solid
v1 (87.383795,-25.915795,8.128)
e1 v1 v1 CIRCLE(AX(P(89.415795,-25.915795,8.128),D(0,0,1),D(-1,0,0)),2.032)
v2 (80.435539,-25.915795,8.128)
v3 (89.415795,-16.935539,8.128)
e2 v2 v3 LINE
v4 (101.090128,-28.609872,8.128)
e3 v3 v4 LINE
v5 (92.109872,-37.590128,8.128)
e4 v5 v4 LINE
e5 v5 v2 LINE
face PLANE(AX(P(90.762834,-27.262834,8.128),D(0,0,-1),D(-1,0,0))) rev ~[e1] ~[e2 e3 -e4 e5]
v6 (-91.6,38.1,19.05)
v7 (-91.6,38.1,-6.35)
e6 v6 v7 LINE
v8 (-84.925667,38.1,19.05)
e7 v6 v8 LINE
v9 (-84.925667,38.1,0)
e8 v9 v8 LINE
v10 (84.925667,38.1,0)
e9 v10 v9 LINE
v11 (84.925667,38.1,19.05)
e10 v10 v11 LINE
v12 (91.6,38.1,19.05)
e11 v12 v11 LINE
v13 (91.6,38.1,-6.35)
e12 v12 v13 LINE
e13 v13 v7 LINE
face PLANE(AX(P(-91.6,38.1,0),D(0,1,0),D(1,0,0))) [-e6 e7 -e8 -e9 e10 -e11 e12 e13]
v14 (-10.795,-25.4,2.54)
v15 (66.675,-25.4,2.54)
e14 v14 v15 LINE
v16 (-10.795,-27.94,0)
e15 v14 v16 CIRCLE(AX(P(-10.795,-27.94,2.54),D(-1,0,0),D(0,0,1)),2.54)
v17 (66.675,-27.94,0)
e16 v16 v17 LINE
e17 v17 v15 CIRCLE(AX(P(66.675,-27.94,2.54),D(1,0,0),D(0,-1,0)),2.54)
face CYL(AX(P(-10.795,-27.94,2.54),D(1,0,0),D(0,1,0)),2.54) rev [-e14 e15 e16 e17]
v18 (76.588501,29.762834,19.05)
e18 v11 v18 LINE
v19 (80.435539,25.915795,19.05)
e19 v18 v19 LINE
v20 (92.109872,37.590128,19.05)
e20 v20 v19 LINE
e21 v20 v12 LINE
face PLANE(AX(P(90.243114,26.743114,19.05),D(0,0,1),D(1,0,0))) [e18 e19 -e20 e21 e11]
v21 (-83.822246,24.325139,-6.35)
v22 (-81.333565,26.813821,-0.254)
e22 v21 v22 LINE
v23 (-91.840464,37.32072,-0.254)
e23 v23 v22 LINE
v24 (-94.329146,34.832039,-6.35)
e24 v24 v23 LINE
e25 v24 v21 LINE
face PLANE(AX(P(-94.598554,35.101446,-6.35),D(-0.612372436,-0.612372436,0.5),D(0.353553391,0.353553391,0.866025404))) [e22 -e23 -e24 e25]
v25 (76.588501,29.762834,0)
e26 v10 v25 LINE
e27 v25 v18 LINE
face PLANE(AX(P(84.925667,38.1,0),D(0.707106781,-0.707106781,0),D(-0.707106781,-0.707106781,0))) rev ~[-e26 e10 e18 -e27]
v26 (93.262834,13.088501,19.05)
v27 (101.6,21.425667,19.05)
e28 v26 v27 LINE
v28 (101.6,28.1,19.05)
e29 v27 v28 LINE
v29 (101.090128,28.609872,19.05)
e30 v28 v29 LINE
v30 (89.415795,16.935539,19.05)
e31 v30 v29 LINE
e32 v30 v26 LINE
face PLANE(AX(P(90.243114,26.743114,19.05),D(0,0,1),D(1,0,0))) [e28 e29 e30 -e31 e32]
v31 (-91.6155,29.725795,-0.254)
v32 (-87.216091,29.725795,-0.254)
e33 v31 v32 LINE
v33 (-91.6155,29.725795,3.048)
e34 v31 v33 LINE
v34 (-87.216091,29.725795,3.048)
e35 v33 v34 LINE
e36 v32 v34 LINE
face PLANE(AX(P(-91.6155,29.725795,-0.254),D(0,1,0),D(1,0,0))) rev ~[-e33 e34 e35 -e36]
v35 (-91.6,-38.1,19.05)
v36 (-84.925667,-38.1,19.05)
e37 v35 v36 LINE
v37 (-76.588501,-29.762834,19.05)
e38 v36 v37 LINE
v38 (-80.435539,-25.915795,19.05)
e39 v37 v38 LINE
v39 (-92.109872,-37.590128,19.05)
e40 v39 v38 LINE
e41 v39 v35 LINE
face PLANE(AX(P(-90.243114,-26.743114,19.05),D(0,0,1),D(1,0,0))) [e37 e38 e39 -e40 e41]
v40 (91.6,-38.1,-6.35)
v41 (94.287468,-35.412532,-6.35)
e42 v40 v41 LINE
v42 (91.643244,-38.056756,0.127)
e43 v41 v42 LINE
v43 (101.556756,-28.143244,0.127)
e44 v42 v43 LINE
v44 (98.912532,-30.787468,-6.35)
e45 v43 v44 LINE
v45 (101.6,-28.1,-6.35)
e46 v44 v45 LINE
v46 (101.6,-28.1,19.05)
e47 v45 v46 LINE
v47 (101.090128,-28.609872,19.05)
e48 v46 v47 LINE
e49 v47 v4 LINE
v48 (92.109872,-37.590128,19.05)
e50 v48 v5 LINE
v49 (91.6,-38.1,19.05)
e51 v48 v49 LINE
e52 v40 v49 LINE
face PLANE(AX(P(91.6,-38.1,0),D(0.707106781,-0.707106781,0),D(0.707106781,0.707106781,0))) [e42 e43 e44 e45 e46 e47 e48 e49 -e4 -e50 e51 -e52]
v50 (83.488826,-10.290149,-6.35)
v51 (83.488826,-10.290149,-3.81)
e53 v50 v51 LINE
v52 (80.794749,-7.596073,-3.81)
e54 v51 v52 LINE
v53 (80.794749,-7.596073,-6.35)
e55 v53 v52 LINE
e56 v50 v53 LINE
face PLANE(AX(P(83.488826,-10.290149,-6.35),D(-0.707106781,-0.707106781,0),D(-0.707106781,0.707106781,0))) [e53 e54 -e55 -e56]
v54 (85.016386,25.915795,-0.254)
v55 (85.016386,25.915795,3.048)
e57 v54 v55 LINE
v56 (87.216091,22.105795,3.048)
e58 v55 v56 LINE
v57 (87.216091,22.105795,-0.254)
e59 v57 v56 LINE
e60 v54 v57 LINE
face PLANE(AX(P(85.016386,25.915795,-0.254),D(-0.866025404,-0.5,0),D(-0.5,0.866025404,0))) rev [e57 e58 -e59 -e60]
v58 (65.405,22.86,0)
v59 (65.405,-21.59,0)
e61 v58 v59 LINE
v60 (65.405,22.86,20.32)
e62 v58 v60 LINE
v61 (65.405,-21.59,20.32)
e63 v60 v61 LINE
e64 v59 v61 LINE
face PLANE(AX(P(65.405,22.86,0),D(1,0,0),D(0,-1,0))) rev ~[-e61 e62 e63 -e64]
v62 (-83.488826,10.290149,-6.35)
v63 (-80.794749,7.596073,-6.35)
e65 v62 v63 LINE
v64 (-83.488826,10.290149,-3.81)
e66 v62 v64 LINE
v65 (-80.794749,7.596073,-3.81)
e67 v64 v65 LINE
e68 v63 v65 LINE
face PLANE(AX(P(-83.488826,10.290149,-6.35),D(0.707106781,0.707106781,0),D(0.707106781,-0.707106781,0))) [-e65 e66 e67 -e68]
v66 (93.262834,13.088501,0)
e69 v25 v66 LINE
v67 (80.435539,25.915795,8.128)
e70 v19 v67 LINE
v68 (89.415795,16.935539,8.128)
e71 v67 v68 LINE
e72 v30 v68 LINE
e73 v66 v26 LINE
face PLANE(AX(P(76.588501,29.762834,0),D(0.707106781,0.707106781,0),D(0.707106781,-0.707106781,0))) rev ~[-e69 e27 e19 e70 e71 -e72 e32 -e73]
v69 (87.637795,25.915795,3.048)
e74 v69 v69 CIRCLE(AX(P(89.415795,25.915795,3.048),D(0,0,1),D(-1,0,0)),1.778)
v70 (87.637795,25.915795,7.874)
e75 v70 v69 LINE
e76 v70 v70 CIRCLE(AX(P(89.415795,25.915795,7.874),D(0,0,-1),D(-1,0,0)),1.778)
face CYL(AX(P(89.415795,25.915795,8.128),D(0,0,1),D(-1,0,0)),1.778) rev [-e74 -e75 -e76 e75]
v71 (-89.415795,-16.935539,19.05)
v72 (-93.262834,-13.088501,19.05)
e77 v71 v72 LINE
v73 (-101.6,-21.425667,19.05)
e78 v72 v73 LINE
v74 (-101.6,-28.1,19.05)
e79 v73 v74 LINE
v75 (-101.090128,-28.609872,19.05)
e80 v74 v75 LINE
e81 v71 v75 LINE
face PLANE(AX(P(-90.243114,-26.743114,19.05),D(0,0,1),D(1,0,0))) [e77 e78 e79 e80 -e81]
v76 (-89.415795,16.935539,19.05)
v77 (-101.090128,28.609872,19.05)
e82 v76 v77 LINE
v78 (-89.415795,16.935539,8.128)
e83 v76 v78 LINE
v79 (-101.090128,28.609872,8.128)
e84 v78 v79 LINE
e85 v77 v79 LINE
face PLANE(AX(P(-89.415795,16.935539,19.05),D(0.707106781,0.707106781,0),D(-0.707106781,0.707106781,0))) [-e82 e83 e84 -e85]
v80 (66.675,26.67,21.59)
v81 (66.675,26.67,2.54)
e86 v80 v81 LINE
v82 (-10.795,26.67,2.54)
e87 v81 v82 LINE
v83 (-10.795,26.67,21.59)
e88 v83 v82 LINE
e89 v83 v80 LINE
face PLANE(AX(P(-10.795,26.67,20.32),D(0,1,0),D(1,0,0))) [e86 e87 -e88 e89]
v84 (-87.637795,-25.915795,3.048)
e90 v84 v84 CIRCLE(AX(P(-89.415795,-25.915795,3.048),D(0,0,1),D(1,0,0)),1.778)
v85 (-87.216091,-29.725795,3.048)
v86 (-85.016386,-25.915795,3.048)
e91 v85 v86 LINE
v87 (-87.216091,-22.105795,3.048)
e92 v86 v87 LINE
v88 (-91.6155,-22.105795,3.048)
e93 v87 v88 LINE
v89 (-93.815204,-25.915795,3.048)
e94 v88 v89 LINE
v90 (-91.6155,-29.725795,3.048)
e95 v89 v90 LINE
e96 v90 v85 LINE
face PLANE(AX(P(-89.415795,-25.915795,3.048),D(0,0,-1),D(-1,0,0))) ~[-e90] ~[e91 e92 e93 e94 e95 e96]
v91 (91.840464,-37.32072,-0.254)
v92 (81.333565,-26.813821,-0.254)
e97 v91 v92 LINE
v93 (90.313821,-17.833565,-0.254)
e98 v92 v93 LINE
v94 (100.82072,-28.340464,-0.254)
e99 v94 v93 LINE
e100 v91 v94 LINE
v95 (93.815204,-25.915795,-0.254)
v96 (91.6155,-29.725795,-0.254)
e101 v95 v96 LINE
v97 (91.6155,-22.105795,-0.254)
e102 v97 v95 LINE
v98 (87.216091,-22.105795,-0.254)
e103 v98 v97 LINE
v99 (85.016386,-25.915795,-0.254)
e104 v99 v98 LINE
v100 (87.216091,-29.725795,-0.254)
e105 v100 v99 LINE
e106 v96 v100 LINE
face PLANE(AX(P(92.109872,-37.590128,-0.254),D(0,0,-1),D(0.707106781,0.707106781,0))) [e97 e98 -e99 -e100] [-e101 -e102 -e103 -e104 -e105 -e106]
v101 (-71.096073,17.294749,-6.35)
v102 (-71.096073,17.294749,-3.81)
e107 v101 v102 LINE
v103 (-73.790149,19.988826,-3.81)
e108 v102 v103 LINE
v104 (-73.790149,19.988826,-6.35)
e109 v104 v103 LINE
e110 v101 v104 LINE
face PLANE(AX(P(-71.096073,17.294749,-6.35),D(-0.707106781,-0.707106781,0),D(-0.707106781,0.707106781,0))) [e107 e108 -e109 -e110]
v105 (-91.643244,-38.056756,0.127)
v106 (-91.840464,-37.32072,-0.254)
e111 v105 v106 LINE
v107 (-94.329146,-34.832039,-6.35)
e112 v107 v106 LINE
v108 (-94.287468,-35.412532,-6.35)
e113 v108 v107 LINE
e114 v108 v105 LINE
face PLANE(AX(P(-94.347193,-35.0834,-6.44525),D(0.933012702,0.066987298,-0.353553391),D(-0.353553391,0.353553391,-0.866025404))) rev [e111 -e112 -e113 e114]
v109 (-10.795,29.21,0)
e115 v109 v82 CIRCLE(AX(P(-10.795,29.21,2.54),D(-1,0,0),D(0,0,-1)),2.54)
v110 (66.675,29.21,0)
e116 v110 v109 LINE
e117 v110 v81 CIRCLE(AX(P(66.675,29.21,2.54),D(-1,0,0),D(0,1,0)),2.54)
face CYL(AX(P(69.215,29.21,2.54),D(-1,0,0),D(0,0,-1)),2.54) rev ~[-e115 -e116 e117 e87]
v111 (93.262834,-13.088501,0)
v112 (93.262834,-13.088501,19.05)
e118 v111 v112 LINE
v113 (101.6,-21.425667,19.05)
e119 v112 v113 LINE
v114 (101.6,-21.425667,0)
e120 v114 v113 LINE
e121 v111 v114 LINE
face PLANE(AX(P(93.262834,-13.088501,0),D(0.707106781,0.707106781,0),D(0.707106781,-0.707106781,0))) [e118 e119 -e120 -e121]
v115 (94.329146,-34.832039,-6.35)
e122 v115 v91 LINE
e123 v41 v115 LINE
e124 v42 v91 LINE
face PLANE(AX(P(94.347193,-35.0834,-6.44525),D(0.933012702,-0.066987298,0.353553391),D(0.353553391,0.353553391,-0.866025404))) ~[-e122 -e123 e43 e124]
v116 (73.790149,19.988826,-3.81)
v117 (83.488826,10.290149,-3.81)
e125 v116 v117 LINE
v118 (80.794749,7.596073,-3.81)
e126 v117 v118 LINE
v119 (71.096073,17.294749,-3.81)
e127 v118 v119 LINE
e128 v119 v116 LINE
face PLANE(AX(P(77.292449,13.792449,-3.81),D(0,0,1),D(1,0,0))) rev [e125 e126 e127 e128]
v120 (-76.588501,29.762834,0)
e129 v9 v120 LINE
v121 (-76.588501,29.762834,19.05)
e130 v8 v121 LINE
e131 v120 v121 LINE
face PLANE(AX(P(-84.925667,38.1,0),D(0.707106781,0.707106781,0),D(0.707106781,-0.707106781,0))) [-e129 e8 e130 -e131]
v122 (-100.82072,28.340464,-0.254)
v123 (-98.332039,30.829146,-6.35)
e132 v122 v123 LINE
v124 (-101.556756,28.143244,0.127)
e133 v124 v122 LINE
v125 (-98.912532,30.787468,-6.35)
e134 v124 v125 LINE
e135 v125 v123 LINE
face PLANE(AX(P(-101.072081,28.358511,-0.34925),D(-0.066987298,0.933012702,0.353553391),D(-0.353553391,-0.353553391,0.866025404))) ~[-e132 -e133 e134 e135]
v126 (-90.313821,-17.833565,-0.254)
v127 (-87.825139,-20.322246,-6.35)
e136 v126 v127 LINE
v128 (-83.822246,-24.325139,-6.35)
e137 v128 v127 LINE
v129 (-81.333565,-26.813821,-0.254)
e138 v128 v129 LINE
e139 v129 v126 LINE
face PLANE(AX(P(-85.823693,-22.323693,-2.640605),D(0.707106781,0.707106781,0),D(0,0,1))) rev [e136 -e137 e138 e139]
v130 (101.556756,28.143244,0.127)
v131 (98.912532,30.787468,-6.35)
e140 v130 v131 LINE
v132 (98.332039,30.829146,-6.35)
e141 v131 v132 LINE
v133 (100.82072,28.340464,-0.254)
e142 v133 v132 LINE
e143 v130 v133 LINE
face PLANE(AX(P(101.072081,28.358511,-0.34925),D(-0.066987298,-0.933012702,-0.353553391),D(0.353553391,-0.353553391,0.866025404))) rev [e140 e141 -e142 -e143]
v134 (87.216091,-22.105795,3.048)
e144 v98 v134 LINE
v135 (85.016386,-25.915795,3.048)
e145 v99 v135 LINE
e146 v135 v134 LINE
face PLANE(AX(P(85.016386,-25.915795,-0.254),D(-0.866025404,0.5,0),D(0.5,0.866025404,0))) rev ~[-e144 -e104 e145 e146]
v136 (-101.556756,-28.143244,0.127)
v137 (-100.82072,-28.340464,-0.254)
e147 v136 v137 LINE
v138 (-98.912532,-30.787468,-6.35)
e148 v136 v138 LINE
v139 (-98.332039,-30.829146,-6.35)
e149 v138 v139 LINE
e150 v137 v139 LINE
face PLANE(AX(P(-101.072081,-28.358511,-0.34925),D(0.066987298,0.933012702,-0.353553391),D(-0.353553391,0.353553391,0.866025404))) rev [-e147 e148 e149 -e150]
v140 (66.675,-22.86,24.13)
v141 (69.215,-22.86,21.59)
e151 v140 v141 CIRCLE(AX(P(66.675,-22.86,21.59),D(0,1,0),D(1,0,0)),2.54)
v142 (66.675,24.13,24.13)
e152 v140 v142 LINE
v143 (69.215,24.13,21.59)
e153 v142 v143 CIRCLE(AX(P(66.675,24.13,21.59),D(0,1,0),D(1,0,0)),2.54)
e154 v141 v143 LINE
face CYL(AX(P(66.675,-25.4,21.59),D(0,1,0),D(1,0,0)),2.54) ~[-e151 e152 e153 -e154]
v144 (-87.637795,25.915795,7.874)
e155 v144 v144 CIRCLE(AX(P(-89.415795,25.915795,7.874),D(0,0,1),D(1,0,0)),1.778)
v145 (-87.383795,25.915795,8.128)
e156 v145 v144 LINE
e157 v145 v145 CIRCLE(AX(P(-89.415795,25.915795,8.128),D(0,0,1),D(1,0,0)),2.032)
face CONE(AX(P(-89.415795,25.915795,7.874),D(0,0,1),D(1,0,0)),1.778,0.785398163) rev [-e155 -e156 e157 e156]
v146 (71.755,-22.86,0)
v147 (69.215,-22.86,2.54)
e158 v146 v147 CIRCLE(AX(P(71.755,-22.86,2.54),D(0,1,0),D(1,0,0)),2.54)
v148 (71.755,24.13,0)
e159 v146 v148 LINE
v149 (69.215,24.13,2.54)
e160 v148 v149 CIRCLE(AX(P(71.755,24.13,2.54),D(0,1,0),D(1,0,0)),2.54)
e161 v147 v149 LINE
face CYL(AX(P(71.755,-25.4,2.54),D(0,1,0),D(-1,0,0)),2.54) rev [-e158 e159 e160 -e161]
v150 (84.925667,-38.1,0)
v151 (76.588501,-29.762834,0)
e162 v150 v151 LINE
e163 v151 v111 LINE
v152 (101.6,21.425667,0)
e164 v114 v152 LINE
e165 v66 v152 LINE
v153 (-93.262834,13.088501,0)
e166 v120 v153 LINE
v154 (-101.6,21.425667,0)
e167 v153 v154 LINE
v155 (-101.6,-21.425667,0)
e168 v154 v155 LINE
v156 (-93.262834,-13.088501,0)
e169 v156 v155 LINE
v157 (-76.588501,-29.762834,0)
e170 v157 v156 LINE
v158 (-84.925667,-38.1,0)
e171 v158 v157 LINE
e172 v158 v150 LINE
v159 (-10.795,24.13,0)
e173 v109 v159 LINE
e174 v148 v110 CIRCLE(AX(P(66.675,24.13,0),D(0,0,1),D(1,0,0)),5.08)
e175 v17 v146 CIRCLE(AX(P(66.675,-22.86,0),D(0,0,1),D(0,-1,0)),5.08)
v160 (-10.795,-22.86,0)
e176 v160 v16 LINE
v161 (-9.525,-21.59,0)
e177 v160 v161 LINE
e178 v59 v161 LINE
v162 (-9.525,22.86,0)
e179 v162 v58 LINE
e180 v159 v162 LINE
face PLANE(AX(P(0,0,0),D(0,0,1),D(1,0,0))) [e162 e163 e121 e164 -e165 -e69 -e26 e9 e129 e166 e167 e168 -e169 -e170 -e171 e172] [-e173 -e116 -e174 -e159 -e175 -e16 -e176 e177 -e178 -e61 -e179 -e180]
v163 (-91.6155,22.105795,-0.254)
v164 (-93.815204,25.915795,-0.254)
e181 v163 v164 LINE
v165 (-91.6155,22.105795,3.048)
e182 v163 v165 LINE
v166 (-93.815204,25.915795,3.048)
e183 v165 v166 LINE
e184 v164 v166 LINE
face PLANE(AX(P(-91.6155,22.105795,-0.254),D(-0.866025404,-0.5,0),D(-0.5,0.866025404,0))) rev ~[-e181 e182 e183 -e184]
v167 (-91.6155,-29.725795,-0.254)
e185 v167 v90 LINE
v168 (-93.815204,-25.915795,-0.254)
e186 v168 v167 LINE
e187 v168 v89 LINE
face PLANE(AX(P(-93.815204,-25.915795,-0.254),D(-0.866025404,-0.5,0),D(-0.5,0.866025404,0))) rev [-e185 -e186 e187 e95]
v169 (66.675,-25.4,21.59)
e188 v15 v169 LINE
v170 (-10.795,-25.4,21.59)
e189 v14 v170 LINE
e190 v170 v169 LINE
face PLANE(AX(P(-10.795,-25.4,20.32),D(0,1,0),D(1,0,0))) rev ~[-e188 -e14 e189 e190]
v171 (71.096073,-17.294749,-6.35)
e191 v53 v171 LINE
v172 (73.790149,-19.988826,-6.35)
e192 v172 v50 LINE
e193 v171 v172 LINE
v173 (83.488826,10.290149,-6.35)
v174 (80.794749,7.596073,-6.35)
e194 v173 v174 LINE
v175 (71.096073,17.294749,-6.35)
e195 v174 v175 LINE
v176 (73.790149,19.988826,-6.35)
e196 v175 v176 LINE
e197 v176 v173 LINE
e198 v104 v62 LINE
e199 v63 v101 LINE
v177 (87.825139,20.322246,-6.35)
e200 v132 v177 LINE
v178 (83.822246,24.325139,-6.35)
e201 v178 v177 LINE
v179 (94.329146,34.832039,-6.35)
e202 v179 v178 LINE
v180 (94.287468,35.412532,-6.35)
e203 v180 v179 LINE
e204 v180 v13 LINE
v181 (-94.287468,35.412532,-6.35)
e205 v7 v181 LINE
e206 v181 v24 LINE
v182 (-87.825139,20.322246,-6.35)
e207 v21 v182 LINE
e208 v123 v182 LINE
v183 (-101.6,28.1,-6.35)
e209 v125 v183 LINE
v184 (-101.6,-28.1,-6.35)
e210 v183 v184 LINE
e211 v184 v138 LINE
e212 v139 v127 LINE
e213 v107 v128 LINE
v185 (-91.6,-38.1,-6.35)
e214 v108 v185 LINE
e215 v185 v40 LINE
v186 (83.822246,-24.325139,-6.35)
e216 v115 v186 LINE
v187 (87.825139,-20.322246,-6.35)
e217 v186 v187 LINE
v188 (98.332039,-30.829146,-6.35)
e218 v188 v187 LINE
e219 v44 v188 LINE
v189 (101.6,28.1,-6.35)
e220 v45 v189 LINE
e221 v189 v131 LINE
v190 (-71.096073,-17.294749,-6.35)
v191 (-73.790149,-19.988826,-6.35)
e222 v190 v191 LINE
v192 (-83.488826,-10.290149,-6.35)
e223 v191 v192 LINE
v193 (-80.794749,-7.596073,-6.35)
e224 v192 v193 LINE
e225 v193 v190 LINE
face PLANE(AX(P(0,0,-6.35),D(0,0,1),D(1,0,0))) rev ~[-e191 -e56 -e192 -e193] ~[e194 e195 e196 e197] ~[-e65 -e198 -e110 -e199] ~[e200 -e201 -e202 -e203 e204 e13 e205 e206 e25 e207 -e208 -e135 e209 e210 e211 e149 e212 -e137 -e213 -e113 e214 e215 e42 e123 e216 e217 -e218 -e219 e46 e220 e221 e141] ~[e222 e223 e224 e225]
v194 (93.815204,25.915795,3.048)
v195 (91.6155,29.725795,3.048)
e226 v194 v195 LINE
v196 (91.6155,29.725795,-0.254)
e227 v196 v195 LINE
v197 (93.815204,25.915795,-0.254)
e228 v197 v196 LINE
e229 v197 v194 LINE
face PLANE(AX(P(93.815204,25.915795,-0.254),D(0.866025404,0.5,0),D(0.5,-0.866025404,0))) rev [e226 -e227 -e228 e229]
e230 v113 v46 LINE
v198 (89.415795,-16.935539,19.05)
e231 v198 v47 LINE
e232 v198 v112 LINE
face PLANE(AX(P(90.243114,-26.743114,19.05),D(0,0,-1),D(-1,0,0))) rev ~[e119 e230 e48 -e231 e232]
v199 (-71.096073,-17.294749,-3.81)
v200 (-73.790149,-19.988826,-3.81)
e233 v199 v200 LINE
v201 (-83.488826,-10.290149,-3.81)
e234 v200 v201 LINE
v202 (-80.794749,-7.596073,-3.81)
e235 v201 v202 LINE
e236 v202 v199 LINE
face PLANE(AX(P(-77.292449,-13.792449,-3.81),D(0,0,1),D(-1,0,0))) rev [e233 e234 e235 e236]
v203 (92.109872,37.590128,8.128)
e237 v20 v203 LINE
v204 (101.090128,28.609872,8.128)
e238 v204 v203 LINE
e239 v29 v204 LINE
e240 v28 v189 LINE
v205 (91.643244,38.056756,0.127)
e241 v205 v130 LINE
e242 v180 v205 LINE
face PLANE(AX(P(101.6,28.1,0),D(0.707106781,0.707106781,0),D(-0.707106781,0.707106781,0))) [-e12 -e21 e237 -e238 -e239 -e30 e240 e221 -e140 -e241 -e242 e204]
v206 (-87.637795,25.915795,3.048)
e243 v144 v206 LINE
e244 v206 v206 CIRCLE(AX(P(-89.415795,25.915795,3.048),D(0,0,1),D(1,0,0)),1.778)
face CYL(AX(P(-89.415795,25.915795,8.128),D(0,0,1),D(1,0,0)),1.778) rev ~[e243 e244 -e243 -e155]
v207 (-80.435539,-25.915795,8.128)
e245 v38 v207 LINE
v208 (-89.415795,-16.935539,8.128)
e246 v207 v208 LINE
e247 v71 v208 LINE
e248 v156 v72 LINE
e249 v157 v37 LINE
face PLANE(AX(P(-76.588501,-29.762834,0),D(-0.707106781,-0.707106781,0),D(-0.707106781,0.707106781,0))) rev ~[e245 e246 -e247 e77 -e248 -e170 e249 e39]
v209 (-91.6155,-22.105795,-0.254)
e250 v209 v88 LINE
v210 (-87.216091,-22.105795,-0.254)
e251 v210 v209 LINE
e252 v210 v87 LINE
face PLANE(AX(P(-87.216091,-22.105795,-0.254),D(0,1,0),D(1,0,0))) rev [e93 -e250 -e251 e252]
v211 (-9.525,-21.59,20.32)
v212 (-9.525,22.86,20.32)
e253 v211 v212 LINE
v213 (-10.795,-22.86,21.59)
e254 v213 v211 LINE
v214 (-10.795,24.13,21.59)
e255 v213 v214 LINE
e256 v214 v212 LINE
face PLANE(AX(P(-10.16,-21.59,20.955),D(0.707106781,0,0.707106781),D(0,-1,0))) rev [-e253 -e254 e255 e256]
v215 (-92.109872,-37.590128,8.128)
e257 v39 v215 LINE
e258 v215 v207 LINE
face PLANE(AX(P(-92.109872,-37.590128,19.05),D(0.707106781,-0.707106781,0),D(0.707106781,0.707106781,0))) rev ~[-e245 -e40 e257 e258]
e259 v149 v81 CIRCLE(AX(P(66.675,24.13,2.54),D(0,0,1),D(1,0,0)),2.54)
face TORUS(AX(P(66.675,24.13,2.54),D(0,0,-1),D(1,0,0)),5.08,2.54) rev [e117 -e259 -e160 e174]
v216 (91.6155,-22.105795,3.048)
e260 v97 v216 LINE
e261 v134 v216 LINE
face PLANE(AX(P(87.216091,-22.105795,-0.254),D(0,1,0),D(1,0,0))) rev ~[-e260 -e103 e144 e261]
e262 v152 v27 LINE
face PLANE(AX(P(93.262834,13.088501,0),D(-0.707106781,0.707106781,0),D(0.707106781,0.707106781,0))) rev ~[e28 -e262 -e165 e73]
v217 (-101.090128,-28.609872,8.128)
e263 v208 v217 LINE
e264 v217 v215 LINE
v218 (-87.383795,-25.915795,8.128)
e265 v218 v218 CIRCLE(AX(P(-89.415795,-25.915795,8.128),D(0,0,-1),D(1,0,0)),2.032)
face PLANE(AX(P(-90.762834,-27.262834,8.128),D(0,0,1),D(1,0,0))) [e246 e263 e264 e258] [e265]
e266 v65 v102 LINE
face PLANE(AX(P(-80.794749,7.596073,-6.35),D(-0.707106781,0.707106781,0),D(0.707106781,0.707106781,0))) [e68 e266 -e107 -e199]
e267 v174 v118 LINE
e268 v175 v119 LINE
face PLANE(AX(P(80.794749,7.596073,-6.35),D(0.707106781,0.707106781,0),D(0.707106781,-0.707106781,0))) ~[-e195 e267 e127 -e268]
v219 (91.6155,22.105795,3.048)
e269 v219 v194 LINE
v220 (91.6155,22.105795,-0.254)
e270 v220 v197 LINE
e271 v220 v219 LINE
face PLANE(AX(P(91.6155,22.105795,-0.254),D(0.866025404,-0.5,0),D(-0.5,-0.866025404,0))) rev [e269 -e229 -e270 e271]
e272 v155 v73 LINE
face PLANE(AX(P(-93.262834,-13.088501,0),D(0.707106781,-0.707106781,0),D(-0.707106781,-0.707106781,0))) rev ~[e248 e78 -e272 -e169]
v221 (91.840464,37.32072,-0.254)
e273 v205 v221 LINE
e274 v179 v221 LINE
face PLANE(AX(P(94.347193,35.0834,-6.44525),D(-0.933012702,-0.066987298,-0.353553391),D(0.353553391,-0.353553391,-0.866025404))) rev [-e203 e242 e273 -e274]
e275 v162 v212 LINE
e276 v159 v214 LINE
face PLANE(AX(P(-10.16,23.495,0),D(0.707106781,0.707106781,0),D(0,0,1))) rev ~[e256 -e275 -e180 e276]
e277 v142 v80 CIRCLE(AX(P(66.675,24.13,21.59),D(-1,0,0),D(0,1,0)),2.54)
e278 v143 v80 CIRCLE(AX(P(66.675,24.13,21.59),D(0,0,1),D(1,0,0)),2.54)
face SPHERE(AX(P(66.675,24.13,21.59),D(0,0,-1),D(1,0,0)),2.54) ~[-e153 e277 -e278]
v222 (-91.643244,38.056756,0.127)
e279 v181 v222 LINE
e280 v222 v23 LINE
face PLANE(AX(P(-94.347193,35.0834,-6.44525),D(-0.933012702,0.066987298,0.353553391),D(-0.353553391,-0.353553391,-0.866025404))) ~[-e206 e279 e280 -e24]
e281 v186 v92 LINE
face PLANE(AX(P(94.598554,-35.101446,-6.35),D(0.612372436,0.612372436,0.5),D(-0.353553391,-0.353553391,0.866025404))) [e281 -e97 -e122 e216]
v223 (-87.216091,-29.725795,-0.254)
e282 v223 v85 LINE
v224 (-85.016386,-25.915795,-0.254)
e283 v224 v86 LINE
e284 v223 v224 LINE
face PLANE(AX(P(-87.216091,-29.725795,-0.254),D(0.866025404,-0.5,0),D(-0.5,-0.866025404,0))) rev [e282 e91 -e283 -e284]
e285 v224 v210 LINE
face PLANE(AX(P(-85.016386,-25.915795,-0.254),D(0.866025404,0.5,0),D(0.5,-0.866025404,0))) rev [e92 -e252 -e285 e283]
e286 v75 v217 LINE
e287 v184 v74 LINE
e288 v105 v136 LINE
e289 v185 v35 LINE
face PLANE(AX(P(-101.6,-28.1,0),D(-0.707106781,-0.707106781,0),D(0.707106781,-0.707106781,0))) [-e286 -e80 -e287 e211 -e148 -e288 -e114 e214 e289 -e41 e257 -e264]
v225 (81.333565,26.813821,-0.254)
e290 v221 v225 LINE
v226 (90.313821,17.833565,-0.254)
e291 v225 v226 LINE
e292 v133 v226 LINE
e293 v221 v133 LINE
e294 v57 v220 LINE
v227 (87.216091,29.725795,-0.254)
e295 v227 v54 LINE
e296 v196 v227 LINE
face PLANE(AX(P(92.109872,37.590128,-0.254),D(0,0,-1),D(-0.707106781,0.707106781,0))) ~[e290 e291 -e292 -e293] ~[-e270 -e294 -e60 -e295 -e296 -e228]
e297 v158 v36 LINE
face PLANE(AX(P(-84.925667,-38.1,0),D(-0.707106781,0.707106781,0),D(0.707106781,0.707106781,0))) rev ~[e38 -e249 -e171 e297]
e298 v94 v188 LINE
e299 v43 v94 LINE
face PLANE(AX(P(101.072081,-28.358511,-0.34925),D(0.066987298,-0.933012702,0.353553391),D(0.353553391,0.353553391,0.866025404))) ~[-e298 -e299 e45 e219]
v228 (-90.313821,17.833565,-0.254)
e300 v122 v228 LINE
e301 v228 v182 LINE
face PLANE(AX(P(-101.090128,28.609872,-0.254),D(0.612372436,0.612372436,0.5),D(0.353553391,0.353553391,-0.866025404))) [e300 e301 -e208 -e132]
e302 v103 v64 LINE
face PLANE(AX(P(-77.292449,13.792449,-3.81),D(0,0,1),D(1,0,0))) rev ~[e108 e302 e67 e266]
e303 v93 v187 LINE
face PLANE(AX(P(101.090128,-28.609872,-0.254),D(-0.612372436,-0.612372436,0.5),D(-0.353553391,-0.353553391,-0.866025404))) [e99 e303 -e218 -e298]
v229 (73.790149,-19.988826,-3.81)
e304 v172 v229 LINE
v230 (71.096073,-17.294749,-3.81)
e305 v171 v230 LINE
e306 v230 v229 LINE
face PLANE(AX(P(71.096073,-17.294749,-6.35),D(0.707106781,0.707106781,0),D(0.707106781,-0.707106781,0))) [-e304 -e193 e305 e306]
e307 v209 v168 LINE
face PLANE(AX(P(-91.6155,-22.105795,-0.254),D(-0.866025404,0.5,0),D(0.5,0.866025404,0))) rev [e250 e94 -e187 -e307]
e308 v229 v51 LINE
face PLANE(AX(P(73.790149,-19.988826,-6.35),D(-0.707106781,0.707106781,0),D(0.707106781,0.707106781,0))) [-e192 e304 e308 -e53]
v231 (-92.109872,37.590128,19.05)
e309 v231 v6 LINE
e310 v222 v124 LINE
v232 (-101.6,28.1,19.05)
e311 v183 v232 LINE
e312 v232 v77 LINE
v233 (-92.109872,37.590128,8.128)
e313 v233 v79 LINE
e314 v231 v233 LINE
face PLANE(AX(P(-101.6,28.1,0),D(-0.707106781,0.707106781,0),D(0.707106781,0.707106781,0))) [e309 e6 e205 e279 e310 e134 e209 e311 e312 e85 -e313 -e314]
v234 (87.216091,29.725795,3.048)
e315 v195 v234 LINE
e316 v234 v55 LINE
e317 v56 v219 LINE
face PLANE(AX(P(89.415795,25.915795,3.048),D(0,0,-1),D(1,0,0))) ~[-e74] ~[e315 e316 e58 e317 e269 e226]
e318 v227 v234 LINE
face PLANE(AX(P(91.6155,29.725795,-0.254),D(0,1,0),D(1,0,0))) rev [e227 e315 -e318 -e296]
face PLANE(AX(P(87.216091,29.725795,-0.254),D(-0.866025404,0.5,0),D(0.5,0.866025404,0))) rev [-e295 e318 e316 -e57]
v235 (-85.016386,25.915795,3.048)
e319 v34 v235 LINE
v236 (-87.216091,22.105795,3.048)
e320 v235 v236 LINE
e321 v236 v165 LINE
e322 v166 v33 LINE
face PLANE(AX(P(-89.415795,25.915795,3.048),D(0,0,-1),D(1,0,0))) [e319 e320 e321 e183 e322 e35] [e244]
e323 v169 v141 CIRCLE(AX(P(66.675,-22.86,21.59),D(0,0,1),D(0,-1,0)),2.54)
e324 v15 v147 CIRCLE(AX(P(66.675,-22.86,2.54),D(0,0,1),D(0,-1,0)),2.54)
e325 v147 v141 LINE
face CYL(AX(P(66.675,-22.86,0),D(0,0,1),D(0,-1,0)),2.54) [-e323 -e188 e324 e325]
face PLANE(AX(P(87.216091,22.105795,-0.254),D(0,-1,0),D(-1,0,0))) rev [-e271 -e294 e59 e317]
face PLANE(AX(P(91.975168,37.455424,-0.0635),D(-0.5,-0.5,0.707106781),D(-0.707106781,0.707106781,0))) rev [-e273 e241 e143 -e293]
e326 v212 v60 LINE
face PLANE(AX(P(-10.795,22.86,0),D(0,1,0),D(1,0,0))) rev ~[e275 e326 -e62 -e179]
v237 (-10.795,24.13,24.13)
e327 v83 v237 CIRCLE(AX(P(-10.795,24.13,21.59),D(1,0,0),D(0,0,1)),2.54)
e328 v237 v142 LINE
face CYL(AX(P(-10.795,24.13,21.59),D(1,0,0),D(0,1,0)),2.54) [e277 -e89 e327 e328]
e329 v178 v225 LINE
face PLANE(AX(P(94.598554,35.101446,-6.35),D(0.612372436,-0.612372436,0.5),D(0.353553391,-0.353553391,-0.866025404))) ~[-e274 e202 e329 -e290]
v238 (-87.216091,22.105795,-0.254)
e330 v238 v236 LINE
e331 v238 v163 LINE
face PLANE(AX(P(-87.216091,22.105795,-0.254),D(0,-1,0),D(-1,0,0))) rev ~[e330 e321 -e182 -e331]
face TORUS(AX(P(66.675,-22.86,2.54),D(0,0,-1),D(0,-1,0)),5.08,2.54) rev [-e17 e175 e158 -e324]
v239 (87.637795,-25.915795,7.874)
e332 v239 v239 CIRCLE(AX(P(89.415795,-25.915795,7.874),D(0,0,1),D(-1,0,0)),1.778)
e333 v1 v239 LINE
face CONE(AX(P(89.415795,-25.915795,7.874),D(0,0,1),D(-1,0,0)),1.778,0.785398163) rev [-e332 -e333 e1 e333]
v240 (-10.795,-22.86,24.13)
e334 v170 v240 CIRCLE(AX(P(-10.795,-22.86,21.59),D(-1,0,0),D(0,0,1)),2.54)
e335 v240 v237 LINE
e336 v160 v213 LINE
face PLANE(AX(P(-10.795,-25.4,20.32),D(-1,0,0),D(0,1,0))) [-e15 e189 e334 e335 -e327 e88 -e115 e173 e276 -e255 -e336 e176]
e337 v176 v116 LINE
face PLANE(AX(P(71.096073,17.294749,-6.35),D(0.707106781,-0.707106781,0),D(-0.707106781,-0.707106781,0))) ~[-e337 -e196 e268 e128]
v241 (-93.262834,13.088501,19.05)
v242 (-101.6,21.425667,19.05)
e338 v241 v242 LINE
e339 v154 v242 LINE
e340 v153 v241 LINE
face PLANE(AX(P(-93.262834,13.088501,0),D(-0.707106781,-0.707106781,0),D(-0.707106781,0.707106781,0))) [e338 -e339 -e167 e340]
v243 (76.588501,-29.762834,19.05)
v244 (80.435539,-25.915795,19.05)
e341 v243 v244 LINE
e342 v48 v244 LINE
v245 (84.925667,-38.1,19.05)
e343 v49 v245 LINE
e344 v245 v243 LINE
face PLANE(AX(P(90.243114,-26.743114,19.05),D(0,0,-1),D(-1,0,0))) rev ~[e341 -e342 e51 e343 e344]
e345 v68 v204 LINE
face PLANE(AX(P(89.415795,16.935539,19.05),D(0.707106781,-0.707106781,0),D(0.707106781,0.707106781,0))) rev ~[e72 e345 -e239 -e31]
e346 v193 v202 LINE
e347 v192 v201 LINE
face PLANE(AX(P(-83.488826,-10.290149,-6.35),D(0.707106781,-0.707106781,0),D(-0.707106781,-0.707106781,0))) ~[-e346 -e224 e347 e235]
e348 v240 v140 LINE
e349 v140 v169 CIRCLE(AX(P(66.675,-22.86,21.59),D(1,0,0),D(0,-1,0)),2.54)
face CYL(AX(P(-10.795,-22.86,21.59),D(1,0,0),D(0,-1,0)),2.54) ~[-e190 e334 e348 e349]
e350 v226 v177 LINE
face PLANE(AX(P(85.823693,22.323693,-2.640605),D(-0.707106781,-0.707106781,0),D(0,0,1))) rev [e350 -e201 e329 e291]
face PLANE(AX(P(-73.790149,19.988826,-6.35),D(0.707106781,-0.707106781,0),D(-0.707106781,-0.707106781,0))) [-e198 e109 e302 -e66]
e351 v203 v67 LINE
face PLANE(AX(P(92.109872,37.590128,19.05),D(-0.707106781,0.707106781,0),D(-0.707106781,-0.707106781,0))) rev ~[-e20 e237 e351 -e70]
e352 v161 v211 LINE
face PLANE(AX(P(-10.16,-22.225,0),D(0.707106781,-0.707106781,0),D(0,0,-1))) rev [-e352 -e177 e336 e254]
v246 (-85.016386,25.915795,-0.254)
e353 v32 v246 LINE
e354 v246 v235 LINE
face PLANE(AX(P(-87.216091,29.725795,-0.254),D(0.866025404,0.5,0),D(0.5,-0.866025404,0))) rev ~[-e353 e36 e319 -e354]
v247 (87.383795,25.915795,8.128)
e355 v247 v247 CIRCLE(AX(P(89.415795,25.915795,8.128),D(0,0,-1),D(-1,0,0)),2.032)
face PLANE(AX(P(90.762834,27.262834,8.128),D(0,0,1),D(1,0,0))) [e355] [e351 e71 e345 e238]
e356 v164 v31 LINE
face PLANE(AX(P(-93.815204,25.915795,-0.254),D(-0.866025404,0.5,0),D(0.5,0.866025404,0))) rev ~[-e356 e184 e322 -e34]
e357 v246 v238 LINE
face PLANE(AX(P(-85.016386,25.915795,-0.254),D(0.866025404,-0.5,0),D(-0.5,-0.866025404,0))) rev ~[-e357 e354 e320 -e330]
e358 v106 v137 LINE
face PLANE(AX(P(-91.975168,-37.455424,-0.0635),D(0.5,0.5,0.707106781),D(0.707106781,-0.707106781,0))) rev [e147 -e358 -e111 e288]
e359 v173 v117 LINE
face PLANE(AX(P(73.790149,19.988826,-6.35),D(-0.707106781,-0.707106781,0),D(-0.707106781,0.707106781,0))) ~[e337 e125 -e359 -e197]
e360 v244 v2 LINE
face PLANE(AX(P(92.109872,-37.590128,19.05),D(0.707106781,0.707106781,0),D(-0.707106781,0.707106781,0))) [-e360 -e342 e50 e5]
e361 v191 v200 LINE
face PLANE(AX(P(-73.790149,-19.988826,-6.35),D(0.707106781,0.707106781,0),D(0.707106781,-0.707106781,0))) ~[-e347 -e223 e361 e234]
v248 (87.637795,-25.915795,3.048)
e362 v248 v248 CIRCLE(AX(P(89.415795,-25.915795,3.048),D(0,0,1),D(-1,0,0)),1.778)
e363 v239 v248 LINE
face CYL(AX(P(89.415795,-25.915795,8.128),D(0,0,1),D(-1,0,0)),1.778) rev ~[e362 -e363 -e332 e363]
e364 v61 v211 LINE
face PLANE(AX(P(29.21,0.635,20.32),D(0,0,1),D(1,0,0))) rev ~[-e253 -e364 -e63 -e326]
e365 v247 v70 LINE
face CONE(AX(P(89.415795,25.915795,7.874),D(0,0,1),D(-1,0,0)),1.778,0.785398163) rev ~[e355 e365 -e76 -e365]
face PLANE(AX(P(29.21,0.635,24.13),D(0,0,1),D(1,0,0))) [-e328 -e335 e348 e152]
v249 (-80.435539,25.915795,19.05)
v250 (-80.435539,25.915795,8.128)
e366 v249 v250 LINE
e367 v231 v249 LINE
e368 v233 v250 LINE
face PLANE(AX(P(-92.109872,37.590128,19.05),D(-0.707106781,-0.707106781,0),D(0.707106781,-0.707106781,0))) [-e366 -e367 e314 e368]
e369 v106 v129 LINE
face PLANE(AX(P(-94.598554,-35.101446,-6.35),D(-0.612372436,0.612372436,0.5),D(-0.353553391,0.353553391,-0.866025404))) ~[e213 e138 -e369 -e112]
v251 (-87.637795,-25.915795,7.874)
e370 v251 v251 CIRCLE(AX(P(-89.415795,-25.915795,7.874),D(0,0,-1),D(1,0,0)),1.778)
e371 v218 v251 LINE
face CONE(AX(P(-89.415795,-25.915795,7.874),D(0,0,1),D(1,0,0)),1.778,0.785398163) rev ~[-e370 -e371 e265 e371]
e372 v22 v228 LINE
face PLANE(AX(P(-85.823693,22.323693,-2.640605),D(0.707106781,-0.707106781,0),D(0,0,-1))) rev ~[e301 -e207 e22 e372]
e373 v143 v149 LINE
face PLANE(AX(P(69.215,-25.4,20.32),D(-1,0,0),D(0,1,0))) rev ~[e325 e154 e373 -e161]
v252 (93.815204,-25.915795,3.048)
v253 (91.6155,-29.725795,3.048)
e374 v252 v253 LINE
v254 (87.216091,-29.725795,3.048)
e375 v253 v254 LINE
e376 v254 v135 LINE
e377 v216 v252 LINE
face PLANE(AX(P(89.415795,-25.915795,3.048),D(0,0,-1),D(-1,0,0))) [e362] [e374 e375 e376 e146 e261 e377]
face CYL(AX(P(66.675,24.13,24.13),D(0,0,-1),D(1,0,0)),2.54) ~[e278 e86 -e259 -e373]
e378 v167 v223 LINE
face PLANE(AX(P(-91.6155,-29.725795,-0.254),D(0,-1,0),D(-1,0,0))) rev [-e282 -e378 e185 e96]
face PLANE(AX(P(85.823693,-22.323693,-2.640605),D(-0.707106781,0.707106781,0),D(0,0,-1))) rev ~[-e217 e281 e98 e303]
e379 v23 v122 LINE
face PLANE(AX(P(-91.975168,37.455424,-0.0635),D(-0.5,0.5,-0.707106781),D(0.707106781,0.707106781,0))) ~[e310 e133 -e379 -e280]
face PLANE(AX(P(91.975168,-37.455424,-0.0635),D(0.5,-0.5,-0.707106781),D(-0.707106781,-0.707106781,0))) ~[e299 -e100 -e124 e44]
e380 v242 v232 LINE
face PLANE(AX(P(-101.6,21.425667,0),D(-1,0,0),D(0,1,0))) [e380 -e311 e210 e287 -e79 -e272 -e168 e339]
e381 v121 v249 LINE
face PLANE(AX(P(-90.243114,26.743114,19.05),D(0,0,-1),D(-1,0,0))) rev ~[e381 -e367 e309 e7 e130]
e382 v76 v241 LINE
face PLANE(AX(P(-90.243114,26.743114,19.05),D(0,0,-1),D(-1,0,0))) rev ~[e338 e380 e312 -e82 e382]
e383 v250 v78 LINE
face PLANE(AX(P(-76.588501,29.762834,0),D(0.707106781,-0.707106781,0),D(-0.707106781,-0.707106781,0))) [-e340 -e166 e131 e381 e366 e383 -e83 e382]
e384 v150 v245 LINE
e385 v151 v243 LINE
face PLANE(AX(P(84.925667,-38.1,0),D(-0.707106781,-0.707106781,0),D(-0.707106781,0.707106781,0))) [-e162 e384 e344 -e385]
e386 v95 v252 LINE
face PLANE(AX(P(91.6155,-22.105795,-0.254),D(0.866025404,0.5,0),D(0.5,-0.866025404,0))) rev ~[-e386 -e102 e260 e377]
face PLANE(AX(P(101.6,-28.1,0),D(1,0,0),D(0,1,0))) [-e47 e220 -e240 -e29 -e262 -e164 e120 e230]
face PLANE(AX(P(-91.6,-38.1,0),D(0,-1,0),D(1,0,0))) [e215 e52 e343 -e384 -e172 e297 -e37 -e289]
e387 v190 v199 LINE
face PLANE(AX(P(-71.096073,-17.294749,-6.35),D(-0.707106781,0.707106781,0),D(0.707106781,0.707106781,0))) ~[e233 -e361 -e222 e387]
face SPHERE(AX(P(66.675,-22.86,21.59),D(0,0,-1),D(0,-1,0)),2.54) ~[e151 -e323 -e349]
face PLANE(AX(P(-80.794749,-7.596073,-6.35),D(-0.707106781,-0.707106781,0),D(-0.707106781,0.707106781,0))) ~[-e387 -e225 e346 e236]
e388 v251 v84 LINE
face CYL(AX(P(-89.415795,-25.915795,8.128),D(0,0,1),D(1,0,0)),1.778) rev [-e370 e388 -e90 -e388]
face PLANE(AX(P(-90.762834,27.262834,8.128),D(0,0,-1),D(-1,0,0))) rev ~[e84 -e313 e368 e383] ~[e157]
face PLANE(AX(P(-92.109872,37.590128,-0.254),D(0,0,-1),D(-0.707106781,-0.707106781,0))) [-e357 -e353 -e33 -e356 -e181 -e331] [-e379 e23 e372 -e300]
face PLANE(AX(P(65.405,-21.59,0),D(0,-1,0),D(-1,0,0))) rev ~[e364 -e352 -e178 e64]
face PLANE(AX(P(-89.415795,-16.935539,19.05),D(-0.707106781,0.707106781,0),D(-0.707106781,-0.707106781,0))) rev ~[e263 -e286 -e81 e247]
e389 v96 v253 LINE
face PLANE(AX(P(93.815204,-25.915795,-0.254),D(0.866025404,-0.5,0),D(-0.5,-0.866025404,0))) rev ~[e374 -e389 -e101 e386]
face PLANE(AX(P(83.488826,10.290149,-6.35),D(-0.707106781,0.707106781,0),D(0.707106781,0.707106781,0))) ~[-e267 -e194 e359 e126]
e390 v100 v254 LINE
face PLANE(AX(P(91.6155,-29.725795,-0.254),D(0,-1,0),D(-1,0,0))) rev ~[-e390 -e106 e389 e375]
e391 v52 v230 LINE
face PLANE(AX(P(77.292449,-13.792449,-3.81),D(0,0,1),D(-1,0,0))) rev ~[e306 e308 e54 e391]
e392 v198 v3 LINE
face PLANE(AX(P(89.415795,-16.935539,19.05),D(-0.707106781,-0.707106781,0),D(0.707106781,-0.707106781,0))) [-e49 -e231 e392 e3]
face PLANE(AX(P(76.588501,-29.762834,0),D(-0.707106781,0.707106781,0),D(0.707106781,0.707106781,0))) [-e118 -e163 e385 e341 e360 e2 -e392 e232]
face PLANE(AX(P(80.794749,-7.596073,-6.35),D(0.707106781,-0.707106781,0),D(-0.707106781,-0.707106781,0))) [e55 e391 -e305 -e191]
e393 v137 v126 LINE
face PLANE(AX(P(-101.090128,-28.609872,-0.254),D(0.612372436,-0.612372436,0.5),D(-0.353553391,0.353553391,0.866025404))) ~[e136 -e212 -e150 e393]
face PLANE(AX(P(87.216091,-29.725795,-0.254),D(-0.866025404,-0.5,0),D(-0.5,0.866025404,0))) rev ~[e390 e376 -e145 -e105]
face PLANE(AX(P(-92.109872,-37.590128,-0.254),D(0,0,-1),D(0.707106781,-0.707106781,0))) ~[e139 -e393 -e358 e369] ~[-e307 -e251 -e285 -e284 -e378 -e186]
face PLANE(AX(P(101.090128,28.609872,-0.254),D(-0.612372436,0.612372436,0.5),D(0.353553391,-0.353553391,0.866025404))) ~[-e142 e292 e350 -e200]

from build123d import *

# Parameters (mm, degrees)
BOSS_EXTRUDE1_DEPTH     = 27.432
BOSS_EXTRUDE2_DEPTH     = 5.08
SKETCH4_R               = 1.524
CUT_EXTRUDE1_DEPTH      = 2.286
SKETCH4_4_R             = 1.524
CUT_EXTRUDE2_DEPTH      = 63.630575033
BOSS_EXTRUDE3_DEPTH     = 3.81
FILLET1_R               = 2.54
CHAMFER3_SIZE           = 1.27
CHAMFER4_SIZE           = 0.254
SKETCH8_W               = 101.6
SKETCH8_H               = 44.45
CUT_EXTRUDE3_DEPTH      = 5.08
CHAMFER5_SIZE           = 1.27
BOSS_EXTRUDE4_DEPTH     = 6.35
FILLET2_R               = 1.27
BOSS_EXTRUDE5_DEPTH     = 19.05
CUT_EXTRUDE4_DEPTH      = 15.24
MIRROR3_COPY_1_DEPTH    = 15.24
CHAMFER7_SIZE           = 0.381
CUT_EXTRUDE6_DEPTH      = 2.54
MIRROR5_COPY_1_DEPTH    = 2.54
CUT_EXTRUDE7_DEPTH      = 10.922
SKETCH18_R              = 1.778
CUT_EXTRUDE8_DEPTH      = 8.382
MIRROR7_COPY_1_SKETCH_R = 1.778
MIRROR7_COPY_1_DEPTH    = 8.382
SKETCH19_W              = 135.869666512
SKETCH19_H              = 67.345799606
CUT_EXTRUDE9_DEPTH      = 31.242
BOSS_EXTRUDE6_DEPTH     = 20.32
SKETCH21_W              = 80.01
SKETCH21_H              = 52.07
BOSS_EXTRUDE7_DEPTH     = 3.81
FILLET3_R               = 2.54
CHAMFER8_SIZE           = 1.27
CHAMFER9_SIZE           = 0.254
CUT_EXTRUDE10_DEPTH     = 3.302
MIRROR9_COPY_1_DEPTH    = 3.302


with BuildPart() as part:
    # Sketch1 → Boss-Extrude1 (new body)
    with BuildSketch(Plane(origin=(10.858740921, 0, 0), x_dir=(1, 0, 0), z_dir=(0, 0, 1))):
        Polygon((-52.705, 25.4), (-52.705, 21.59), (48.895, 21.59), (48.895, -22.86), (-52.705, -22.86), (-52.705, -25.4), (52.705, -25.4), (52.705, 25.4), align=None)
    extrude(amount=BOSS_EXTRUDE1_DEPTH)

    # Sketch1<3> → Boss-Extrude2 (add)
    with BuildSketch(Plane(origin=(10.858740921, 0, 0), x_dir=(1, 0, 0), z_dir=(0, 0, 1))):
        Polygon((48.895, 21.59), (-52.705, 21.59), (-52.705, 13.97), (-6.985, 13.97), (-6.985, -6.35), (-52.705, -6.35), (-52.705, -22.86), (48.895, -22.86), align=None)
    extrude(amount=BOSS_EXTRUDE2_DEPTH)

    # Sketch4 → Cut-Extrude1 (cut)
    # profile 1 of 4: a face of its own
    with BuildSketch(Plane(origin=(10.858740921, 0, 5.08), x_dir=(1, 0, 0), z_dir=(0, 0, 1))):
        Polygon((-44.785877438, 21.59), (-47.924122562, 21.59), (-49.493245123, 18.8722), (-47.924122562, 16.1544), (-44.785877438, 16.1544), (-43.216754877, 18.8722), align=None)
        with Locations((-46.355, 18.8722)):
            Circle(SKETCH4_R, mode=Mode.SUBTRACT)
    # profile 2 of 4: a face of its own
    with BuildSketch(Plane(origin=(10.858740921, 0, 5.08), x_dir=(1, 0, 0), z_dir=(0, 0, 1))):
        Polygon((21.126640721, 16.1544), (17.988395597, 16.1544), (16.419273036, 18.8722), (17.988395597, 21.59), (21.126640721, 21.59), (22.695763282, 18.8722), align=None)
        with Locations((19.557518159, 18.8722)):
            Circle(SKETCH4_R, mode=Mode.SUBTRACT)
    # profile 3 of 4: a face of its own
    with BuildSketch(Plane(origin=(10.858740921, 0, 5.08), x_dir=(1, 0, 0), z_dir=(0, 0, 1))):
        Polygon((22.695763282, -18.8722), (21.126640721, -16.1544), (17.988395597, -16.1544), (16.419273036, -18.8722), (17.988395597, -21.59), (21.126640721, -21.59), align=None)
        with Locations((19.557518159, -18.8722)):
            Circle(SKETCH4_R, mode=Mode.SUBTRACT)
    # profile 4 of 4: a face of its own
    with BuildSketch(Plane(origin=(10.858740921, 0, 5.08), x_dir=(1, 0, 0), z_dir=(0, 0, 1))):
        Polygon((-49.493245123, -18.8722), (-47.924122562, -16.1544), (-44.785877438, -16.1544), (-43.216754877, -18.8722), (-44.785877438, -21.59), (-47.924122562, -21.59), align=None)
        with Locations((-46.355, -18.8722)):
            Circle(SKETCH4_R, mode=Mode.SUBTRACT)
    extrude(amount=-CUT_EXTRUDE1_DEPTH, mode=Mode.SUBTRACT)

    # Sketch4<4> → Cut-Extrude2 (cut, through all)
    with BuildSketch(Plane(origin=(10.858740921, 0, 5.08), x_dir=(1, 0, 0), z_dir=(0, 0, 1))):
        with Locations((-46.355, 18.8722)):
            Circle(SKETCH4_4_R)
        with Locations((19.557518159, 18.8722)):
            Circle(SKETCH4_4_R)
        with Locations((-46.355, -18.8722)):
            Circle(SKETCH4_4_R)
        with Locations((19.557518159, -18.8722)):
            Circle(SKETCH4_4_R)
    extrude(amount=-CUT_EXTRUDE2_DEPTH, mode=Mode.SUBTRACT)

    # Sketch7 → Boss-Extrude3 (add)
    with BuildSketch(Plane(origin=(10.858740921, 0, 27.432), x_dir=(1, 0, 0), z_dir=(0, 0, 1))):
        Polygon((-52.705, 25.4), (52.705, 25.4), (52.705, -25.4), (-52.705, -25.4), (-52.705, -6.35), (-46.355, -6.35), (-46.355, 6.35), (-52.705, 6.35), align=None)
    extrude(amount=BOSS_EXTRUDE3_DEPTH)

    # Fillet1
    fillet1_edges = [part.edges().sort_by_distance(p)[0] for p in [
        (63.563740921, 25.4, 15.621),
        (63.563740921, -25.4, 15.621),
        (10.858740921, -25.4, 31.242),
        (63.563740921, 0, 31.242),
        (10.858740921, 25.4, 31.242),
    ]]
    fillet(fillet1_edges, radius=FILLET1_R)

    # Chamfer3
    chamfer3_edges = [part.edges().sort_by_distance(p)[0] for p in [
        (-41.846259079, 13.97, 27.432),
        (-41.846259079, 6.35, 29.337),
        (-41.846259079, 21.59, 16.256),
        (-41.846259079, -14.605, 27.432),
        (-41.846259079, -6.35, 29.337),
        (-38.671259079, 6.35, 31.242),
        (-35.496259079, 0, 31.242),
        (-38.671259079, -6.35, 31.242),
        (-41.846259079, -22.86, 16.256),
    ]]
    chamfer(chamfer3_edges, length=CHAMFER3_SIZE)

    # Chamfer4
    chamfer4_edges = [part.edges().sort_by_distance(p)[0] for p in [
        (28.892259079, 18.8722, 0),
        (-37.020259079, -18.8722, 0),
        (28.892259079, -18.8722, 0),
        (-37.020259079, 18.8722, 0),
    ]]
    chamfer(chamfer4_edges, length=CHAMFER4_SIZE)

    # Sketch8 → Cut-Extrude3 (cut)
    with BuildSketch(Plane(origin=(10.858740921, 0, 5.08), x_dir=(1, 0, 0), z_dir=(0, 0, 1))):
        with Locations((-1.905, -0.635)):
            Rectangle(SKETCH8_W, SKETCH8_H)
    extrude(amount=-CUT_EXTRUDE3_DEPTH, mode=Mode.SUBTRACT)

    # Chamfer5
    chamfer5_edges = [part.edges().sort_by_distance(p)[0] for p in [
        (-41.846259079, -22.86, 2.54),
        (-41.846259079, 21.59, 2.54),
    ]]
    chamfer(chamfer5_edges, length=CHAMFER5_SIZE)

    # Sketch9 → Boss-Extrude4 (add)
    with BuildSketch(Plane(origin=(10.858740921, 0, 0), x_dir=(-1, 0, 0), z_dir=(0, 0, -1))):
        Polygon((-90.741259079, 28.1), (-80.741259079, 38.1), (102.458740921, 38.1), (112.458740921, 28.1), (112.458740921, -28.1), (102.458740921, -38.1), (-80.741259079, -38.1), (-90.741259079, -28.1), align=None)
    extrude(amount=BOSS_EXTRUDE4_DEPTH)

    # Fillet2
    fillet2_edges = [part.edges().sort_by_distance(p)[0] for p in [
        (9.588740921, -25.4, 0),
        (63.563740921, 0, 0),
        (9.588740921, 25.4, 0),
        (62.819792145, 24.656051224, 0),
        (62.819792145, -24.656051224, 0),
    ]]
    fillet(fillet2_edges, radius=FILLET2_R)

    # Sketch11 → Boss-Extrude5 (add)
    with BuildSketch(Plane.XY):
        Polygon((-101.6, 28.1), (-91.6, 38.1), (-84.925667043, 38.1), (-76.588500564, 29.762833521), (-93.262833521, 13.088500564), (-101.6, 21.425667043), align=None)
        Polygon((84.925667043, 38.1), (76.588500564, 29.762833521), (93.262833521, 13.088500564), (101.6, 21.425667043), (101.6, 28.1), (91.6, 38.1), align=None)
        Polygon((91.6, -38.1), (84.925667043, -38.1), (76.588500564, -29.762833521), (93.262833521, -13.088500564), (101.6, -21.425667043), (101.6, -28.1), align=None)
        Polygon((-84.925667043, -38.1), (-76.588500564, -29.762833521), (-93.262833521, -13.088500564), (-101.6, -21.425667043), (-101.6, -28.1), (-91.6, -38.1), align=None)
    extrude(amount=BOSS_EXTRUDE5_DEPTH)

    # Sketch13 → Cut-Extrude4 (cut)
    with BuildSketch(Plane(origin=(-64.85, 64.85, 0), x_dir=(0, 0, 1), z_dir=(-0.7071067811865477, 0.7071067811865474, 0))):
        Polygon((-6.35, -44.901280605), (-6.35, -42.070807846), (-0.254, -38.551280605), (-0.254, -51.251280605), (-6.35, -47.731753364), align=None)
    cut_extrude4 = extrude(amount=-CUT_EXTRUDE4_DEPTH, mode=Mode.SUBTRACT)

    # Mirror2: Cut-Extrude4 across plane
    add(cut_extrude4.mirror(Plane.ZX), mode=Mode.SUBTRACT)

    # Mirror3: Cut-Extrude4 across plane
    add(cut_extrude4.mirror(Plane(origin=(0, 0, 0), x_dir=(0, 0, 1), z_dir=(1, 0, 0))), mode=Mode.SUBTRACT)

    # Mirror3 copy 1 sketch → Mirror3 copy 1 (cut)
    with BuildSketch(Plane(origin=(64.85, -64.85, 0), x_dir=(0, 0, 1), z_dir=(0.7071067811865477, -0.7071067811865474, 0))):
        Polygon((-6.35, -44.901280605), (-6.35, -42.070807846), (-0.254, -38.551280605), (-0.254, -51.251280605), (-6.35, -47.731753364), align=None)
    extrude(amount=-MIRROR3_COPY_1_DEPTH, mode=Mode.SUBTRACT)

    # Chamfer7
    chamfer7_edges = [part.edges().sort_by_distance(p)[0] for p in [
        (-99.845787271, 29.854212729, -3.302),
        (-96.6, 33.1, -0.254),
        (-93.354212729, 36.345787271, -3.302),
        (-99.845787271, -29.854212729, -3.302),
        (-96.6, -33.1, -0.254),
        (-93.354212729, -36.345787271, -3.302),
        (99.845787271, 29.854212729, -3.302),
        (96.6, 33.1, -0.254),
        (93.354212729, 36.345787271, -3.302),
        (99.845787271, -29.854212729, -3.302),
        (96.6, -33.1, -0.254),
        (93.354212729, -36.345787271, -3.302),
    ]]
    chamfer(chamfer7_edges, length=CHAMFER7_SIZE)

    # Sketch16 → Cut-Extrude6 (cut)
    with BuildSketch(Plane(origin=(0, 0, -6.35), x_dir=(-1, 0, 0), z_dir=(0, 0, -1))):
        Polygon((71.096072616, 17.294749227), (73.790149452, 19.988826063), (83.488826063, 10.290149452), (80.794749227, 7.596072616), align=None)
    cut_extrude6 = extrude(amount=-CUT_EXTRUDE6_DEPTH, mode=Mode.SUBTRACT)

    # Mirror4: Cut-Extrude6 across plane
    add(cut_extrude6.mirror(Plane.ZX), mode=Mode.SUBTRACT)

    # Mirror5: Cut-Extrude6 across plane
    add(cut_extrude6.mirror(Plane(origin=(0, 0, 0), x_dir=(0, 0, 1), z_dir=(1, 0, 0))), mode=Mode.SUBTRACT)

    # Mirror5 copy 1 sketch → Mirror5 copy 1 (cut)
    with BuildSketch(Plane(origin=(0, 0, -6.35), x_dir=(1, 0, 0), z_dir=(0, 0, -1))):
        Polygon((71.096072616, 17.294749227), (73.790149452, 19.988826063), (83.488826063, 10.290149452), (80.794749227, 7.596072616), align=None)
    extrude(amount=-MIRROR5_COPY_1_DEPTH, mode=Mode.SUBTRACT)

    # Sketch17 → Cut-Extrude7 (cut)
    with BuildSketch(Plane.XY.offset(19.05)):
        Polygon((-96.6, 33.1), (-92.109871939, 37.590128061), (-80.435538982, 25.915795103), (-89.415795103, 16.935538982), (-101.090128061, 28.609871939), align=None)
        Polygon((-80.435538982, -25.915795103), (-89.415795103, -16.935538982), (-101.090128061, -28.609871939), (-96.6, -33.1), (-92.109871939, -37.590128061), align=None)
        Polygon((92.109871939, -37.590128061), (80.435538982, -25.915795103), (89.415795103, -16.935538982), (101.090128061, -28.609871939), (96.6, -33.1), align=None)
        Polygon((80.435538982, 25.915795103), (89.415795103, 16.935538982), (101.090128061, 28.609871939), (96.6, 33.1), (92.109871939, 37.590128061), align=None)
    extrude(amount=-CUT_EXTRUDE7_DEPTH, mode=Mode.SUBTRACT)

    # Sketch18 → Cut-Extrude8 (cut)
    with BuildSketch(Plane.XY.offset(8.128)):
        with Locations((-89.415795103, 25.915795103)):
            Circle(SKETCH18_R)
    cut_extrude8 = extrude(amount=-CUT_EXTRUDE8_DEPTH, mode=Mode.SUBTRACT)

    # Mirror6: Cut-Extrude8 across plane
    add(cut_extrude8.mirror(Plane.ZX), mode=Mode.SUBTRACT)

    # Mirror7: Cut-Extrude8 across plane
    add(cut_extrude8.mirror(Plane(origin=(0, 0, 0), x_dir=(0, 0, 1), z_dir=(1, 0, 0))), mode=Mode.SUBTRACT)

    # Mirror7 copy 1 sketch → Mirror7 copy 1 (cut)
    with BuildSketch(Plane(origin=(0, 0, 8.128), x_dir=(-1, 0, 0), z_dir=(0, 0, 1))):
        with Locations((-89.415795103, 25.915795103)):
            Circle(MIRROR7_COPY_1_SKETCH_R)
    extrude(amount=-MIRROR7_COPY_1_DEPTH, mode=Mode.SUBTRACT)

    # Sketch19 → Cut-Extrude9 (cut)
    with BuildSketch(Plane.XY.offset(31.242)):
        Rectangle(SKETCH19_W, SKETCH19_H)
    extrude(amount=-CUT_EXTRUDE9_DEPTH, mode=Mode.SUBTRACT)

    # Sketch20 → Boss-Extrude6 (add)
    with BuildSketch(Plane.XY):
        Polygon((65.405, 22.86), (65.405, -21.59), (-10.795, -21.59), (-10.795, -25.4), (69.215, -25.4), (69.215, 26.67), (-10.795, 26.67), (-10.795, 22.86), align=None)
    extrude(amount=BOSS_EXTRUDE6_DEPTH)

    # Sketch21 → Boss-Extrude7 (add)
    with BuildSketch(Plane.XY.offset(20.32)):
        with Locations((29.21, 0.635)):
            Rectangle(SKETCH21_W, SKETCH21_H)
    extrude(amount=BOSS_EXTRUDE7_DEPTH)

    # Fillet3
    fillet3_edges = [part.edges().sort_by_distance(p)[0] for p in [
        (29.21, -25.4, 0),
        (69.215, 0.635, 0),
        (69.215, -25.4, 12.065),
        (29.21, 26.67, 0),
        (69.215, 26.67, 12.065),
        (29.21, -25.4, 24.13),
        (69.215, 0.635, 24.13),
        (29.21, 26.67, 24.13),
    ]]
    fillet(fillet3_edges, radius=FILLET3_R)

    # Chamfer8
    chamfer8_edges = [part.edges().sort_by_distance(p)[0] for p in [
        (-10.795, 22.86, 10.16),
        (-10.795, -21.59, 10.16),
        (-10.795, 0.635, 20.32),
    ]]
    chamfer(chamfer8_edges, length=CHAMFER8_SIZE)

    # Chamfer9
    chamfer9_edges = [part.edges().sort_by_distance(p)[0] for p in [
        (-91.193795103, 25.915795103, 8.128),
        (-91.193795103, -25.915795103, 8.128),
        (91.193795103, 25.915795103, 8.128),
        (91.193795103, -25.915795103, 8.128),
    ]]
    chamfer(chamfer9_edges, length=CHAMFER9_SIZE)

    # Sketch22 → Cut-Extrude10 (cut)
    with BuildSketch(Plane(origin=(0, 0, -0.254), x_dir=(-1, 0, 0), z_dir=(0, 0, -1))):
        Polygon((-85.016386052, -25.915795103), (-87.216090578, -22.105795103), (-91.615499629, -22.105795103), (-93.815204154, -25.915795103), (-91.615499629, -29.725795103), (-87.216090578, -29.725795103), align=None)
    cut_extrude10 = extrude(amount=-CUT_EXTRUDE10_DEPTH, mode=Mode.SUBTRACT)

    # Mirror8: Cut-Extrude10 across plane
    add(cut_extrude10.mirror(Plane.ZX), mode=Mode.SUBTRACT)

    # Mirror9: Cut-Extrude10 across plane
    add(cut_extrude10.mirror(Plane(origin=(0, 0, 0), x_dir=(0, 0, 1), z_dir=(1, 0, 0))), mode=Mode.SUBTRACT)

    # Mirror9 copy 1 sketch → Mirror9 copy 1 (cut)
    with BuildSketch(Plane(origin=(0, 0, -0.254), x_dir=(1, 0, 0), z_dir=(0, 0, -1))):
        Polygon((-85.016386052, -25.915795103), (-87.216090578, -22.105795103), (-91.615499629, -22.105795103), (-93.815204154, -25.915795103), (-91.615499629, -29.725795103), (-87.216090578, -29.725795103), align=None)
    extrude(amount=-MIRROR9_COPY_1_DEPTH, mode=Mode.SUBTRACT)


solid = part.part
